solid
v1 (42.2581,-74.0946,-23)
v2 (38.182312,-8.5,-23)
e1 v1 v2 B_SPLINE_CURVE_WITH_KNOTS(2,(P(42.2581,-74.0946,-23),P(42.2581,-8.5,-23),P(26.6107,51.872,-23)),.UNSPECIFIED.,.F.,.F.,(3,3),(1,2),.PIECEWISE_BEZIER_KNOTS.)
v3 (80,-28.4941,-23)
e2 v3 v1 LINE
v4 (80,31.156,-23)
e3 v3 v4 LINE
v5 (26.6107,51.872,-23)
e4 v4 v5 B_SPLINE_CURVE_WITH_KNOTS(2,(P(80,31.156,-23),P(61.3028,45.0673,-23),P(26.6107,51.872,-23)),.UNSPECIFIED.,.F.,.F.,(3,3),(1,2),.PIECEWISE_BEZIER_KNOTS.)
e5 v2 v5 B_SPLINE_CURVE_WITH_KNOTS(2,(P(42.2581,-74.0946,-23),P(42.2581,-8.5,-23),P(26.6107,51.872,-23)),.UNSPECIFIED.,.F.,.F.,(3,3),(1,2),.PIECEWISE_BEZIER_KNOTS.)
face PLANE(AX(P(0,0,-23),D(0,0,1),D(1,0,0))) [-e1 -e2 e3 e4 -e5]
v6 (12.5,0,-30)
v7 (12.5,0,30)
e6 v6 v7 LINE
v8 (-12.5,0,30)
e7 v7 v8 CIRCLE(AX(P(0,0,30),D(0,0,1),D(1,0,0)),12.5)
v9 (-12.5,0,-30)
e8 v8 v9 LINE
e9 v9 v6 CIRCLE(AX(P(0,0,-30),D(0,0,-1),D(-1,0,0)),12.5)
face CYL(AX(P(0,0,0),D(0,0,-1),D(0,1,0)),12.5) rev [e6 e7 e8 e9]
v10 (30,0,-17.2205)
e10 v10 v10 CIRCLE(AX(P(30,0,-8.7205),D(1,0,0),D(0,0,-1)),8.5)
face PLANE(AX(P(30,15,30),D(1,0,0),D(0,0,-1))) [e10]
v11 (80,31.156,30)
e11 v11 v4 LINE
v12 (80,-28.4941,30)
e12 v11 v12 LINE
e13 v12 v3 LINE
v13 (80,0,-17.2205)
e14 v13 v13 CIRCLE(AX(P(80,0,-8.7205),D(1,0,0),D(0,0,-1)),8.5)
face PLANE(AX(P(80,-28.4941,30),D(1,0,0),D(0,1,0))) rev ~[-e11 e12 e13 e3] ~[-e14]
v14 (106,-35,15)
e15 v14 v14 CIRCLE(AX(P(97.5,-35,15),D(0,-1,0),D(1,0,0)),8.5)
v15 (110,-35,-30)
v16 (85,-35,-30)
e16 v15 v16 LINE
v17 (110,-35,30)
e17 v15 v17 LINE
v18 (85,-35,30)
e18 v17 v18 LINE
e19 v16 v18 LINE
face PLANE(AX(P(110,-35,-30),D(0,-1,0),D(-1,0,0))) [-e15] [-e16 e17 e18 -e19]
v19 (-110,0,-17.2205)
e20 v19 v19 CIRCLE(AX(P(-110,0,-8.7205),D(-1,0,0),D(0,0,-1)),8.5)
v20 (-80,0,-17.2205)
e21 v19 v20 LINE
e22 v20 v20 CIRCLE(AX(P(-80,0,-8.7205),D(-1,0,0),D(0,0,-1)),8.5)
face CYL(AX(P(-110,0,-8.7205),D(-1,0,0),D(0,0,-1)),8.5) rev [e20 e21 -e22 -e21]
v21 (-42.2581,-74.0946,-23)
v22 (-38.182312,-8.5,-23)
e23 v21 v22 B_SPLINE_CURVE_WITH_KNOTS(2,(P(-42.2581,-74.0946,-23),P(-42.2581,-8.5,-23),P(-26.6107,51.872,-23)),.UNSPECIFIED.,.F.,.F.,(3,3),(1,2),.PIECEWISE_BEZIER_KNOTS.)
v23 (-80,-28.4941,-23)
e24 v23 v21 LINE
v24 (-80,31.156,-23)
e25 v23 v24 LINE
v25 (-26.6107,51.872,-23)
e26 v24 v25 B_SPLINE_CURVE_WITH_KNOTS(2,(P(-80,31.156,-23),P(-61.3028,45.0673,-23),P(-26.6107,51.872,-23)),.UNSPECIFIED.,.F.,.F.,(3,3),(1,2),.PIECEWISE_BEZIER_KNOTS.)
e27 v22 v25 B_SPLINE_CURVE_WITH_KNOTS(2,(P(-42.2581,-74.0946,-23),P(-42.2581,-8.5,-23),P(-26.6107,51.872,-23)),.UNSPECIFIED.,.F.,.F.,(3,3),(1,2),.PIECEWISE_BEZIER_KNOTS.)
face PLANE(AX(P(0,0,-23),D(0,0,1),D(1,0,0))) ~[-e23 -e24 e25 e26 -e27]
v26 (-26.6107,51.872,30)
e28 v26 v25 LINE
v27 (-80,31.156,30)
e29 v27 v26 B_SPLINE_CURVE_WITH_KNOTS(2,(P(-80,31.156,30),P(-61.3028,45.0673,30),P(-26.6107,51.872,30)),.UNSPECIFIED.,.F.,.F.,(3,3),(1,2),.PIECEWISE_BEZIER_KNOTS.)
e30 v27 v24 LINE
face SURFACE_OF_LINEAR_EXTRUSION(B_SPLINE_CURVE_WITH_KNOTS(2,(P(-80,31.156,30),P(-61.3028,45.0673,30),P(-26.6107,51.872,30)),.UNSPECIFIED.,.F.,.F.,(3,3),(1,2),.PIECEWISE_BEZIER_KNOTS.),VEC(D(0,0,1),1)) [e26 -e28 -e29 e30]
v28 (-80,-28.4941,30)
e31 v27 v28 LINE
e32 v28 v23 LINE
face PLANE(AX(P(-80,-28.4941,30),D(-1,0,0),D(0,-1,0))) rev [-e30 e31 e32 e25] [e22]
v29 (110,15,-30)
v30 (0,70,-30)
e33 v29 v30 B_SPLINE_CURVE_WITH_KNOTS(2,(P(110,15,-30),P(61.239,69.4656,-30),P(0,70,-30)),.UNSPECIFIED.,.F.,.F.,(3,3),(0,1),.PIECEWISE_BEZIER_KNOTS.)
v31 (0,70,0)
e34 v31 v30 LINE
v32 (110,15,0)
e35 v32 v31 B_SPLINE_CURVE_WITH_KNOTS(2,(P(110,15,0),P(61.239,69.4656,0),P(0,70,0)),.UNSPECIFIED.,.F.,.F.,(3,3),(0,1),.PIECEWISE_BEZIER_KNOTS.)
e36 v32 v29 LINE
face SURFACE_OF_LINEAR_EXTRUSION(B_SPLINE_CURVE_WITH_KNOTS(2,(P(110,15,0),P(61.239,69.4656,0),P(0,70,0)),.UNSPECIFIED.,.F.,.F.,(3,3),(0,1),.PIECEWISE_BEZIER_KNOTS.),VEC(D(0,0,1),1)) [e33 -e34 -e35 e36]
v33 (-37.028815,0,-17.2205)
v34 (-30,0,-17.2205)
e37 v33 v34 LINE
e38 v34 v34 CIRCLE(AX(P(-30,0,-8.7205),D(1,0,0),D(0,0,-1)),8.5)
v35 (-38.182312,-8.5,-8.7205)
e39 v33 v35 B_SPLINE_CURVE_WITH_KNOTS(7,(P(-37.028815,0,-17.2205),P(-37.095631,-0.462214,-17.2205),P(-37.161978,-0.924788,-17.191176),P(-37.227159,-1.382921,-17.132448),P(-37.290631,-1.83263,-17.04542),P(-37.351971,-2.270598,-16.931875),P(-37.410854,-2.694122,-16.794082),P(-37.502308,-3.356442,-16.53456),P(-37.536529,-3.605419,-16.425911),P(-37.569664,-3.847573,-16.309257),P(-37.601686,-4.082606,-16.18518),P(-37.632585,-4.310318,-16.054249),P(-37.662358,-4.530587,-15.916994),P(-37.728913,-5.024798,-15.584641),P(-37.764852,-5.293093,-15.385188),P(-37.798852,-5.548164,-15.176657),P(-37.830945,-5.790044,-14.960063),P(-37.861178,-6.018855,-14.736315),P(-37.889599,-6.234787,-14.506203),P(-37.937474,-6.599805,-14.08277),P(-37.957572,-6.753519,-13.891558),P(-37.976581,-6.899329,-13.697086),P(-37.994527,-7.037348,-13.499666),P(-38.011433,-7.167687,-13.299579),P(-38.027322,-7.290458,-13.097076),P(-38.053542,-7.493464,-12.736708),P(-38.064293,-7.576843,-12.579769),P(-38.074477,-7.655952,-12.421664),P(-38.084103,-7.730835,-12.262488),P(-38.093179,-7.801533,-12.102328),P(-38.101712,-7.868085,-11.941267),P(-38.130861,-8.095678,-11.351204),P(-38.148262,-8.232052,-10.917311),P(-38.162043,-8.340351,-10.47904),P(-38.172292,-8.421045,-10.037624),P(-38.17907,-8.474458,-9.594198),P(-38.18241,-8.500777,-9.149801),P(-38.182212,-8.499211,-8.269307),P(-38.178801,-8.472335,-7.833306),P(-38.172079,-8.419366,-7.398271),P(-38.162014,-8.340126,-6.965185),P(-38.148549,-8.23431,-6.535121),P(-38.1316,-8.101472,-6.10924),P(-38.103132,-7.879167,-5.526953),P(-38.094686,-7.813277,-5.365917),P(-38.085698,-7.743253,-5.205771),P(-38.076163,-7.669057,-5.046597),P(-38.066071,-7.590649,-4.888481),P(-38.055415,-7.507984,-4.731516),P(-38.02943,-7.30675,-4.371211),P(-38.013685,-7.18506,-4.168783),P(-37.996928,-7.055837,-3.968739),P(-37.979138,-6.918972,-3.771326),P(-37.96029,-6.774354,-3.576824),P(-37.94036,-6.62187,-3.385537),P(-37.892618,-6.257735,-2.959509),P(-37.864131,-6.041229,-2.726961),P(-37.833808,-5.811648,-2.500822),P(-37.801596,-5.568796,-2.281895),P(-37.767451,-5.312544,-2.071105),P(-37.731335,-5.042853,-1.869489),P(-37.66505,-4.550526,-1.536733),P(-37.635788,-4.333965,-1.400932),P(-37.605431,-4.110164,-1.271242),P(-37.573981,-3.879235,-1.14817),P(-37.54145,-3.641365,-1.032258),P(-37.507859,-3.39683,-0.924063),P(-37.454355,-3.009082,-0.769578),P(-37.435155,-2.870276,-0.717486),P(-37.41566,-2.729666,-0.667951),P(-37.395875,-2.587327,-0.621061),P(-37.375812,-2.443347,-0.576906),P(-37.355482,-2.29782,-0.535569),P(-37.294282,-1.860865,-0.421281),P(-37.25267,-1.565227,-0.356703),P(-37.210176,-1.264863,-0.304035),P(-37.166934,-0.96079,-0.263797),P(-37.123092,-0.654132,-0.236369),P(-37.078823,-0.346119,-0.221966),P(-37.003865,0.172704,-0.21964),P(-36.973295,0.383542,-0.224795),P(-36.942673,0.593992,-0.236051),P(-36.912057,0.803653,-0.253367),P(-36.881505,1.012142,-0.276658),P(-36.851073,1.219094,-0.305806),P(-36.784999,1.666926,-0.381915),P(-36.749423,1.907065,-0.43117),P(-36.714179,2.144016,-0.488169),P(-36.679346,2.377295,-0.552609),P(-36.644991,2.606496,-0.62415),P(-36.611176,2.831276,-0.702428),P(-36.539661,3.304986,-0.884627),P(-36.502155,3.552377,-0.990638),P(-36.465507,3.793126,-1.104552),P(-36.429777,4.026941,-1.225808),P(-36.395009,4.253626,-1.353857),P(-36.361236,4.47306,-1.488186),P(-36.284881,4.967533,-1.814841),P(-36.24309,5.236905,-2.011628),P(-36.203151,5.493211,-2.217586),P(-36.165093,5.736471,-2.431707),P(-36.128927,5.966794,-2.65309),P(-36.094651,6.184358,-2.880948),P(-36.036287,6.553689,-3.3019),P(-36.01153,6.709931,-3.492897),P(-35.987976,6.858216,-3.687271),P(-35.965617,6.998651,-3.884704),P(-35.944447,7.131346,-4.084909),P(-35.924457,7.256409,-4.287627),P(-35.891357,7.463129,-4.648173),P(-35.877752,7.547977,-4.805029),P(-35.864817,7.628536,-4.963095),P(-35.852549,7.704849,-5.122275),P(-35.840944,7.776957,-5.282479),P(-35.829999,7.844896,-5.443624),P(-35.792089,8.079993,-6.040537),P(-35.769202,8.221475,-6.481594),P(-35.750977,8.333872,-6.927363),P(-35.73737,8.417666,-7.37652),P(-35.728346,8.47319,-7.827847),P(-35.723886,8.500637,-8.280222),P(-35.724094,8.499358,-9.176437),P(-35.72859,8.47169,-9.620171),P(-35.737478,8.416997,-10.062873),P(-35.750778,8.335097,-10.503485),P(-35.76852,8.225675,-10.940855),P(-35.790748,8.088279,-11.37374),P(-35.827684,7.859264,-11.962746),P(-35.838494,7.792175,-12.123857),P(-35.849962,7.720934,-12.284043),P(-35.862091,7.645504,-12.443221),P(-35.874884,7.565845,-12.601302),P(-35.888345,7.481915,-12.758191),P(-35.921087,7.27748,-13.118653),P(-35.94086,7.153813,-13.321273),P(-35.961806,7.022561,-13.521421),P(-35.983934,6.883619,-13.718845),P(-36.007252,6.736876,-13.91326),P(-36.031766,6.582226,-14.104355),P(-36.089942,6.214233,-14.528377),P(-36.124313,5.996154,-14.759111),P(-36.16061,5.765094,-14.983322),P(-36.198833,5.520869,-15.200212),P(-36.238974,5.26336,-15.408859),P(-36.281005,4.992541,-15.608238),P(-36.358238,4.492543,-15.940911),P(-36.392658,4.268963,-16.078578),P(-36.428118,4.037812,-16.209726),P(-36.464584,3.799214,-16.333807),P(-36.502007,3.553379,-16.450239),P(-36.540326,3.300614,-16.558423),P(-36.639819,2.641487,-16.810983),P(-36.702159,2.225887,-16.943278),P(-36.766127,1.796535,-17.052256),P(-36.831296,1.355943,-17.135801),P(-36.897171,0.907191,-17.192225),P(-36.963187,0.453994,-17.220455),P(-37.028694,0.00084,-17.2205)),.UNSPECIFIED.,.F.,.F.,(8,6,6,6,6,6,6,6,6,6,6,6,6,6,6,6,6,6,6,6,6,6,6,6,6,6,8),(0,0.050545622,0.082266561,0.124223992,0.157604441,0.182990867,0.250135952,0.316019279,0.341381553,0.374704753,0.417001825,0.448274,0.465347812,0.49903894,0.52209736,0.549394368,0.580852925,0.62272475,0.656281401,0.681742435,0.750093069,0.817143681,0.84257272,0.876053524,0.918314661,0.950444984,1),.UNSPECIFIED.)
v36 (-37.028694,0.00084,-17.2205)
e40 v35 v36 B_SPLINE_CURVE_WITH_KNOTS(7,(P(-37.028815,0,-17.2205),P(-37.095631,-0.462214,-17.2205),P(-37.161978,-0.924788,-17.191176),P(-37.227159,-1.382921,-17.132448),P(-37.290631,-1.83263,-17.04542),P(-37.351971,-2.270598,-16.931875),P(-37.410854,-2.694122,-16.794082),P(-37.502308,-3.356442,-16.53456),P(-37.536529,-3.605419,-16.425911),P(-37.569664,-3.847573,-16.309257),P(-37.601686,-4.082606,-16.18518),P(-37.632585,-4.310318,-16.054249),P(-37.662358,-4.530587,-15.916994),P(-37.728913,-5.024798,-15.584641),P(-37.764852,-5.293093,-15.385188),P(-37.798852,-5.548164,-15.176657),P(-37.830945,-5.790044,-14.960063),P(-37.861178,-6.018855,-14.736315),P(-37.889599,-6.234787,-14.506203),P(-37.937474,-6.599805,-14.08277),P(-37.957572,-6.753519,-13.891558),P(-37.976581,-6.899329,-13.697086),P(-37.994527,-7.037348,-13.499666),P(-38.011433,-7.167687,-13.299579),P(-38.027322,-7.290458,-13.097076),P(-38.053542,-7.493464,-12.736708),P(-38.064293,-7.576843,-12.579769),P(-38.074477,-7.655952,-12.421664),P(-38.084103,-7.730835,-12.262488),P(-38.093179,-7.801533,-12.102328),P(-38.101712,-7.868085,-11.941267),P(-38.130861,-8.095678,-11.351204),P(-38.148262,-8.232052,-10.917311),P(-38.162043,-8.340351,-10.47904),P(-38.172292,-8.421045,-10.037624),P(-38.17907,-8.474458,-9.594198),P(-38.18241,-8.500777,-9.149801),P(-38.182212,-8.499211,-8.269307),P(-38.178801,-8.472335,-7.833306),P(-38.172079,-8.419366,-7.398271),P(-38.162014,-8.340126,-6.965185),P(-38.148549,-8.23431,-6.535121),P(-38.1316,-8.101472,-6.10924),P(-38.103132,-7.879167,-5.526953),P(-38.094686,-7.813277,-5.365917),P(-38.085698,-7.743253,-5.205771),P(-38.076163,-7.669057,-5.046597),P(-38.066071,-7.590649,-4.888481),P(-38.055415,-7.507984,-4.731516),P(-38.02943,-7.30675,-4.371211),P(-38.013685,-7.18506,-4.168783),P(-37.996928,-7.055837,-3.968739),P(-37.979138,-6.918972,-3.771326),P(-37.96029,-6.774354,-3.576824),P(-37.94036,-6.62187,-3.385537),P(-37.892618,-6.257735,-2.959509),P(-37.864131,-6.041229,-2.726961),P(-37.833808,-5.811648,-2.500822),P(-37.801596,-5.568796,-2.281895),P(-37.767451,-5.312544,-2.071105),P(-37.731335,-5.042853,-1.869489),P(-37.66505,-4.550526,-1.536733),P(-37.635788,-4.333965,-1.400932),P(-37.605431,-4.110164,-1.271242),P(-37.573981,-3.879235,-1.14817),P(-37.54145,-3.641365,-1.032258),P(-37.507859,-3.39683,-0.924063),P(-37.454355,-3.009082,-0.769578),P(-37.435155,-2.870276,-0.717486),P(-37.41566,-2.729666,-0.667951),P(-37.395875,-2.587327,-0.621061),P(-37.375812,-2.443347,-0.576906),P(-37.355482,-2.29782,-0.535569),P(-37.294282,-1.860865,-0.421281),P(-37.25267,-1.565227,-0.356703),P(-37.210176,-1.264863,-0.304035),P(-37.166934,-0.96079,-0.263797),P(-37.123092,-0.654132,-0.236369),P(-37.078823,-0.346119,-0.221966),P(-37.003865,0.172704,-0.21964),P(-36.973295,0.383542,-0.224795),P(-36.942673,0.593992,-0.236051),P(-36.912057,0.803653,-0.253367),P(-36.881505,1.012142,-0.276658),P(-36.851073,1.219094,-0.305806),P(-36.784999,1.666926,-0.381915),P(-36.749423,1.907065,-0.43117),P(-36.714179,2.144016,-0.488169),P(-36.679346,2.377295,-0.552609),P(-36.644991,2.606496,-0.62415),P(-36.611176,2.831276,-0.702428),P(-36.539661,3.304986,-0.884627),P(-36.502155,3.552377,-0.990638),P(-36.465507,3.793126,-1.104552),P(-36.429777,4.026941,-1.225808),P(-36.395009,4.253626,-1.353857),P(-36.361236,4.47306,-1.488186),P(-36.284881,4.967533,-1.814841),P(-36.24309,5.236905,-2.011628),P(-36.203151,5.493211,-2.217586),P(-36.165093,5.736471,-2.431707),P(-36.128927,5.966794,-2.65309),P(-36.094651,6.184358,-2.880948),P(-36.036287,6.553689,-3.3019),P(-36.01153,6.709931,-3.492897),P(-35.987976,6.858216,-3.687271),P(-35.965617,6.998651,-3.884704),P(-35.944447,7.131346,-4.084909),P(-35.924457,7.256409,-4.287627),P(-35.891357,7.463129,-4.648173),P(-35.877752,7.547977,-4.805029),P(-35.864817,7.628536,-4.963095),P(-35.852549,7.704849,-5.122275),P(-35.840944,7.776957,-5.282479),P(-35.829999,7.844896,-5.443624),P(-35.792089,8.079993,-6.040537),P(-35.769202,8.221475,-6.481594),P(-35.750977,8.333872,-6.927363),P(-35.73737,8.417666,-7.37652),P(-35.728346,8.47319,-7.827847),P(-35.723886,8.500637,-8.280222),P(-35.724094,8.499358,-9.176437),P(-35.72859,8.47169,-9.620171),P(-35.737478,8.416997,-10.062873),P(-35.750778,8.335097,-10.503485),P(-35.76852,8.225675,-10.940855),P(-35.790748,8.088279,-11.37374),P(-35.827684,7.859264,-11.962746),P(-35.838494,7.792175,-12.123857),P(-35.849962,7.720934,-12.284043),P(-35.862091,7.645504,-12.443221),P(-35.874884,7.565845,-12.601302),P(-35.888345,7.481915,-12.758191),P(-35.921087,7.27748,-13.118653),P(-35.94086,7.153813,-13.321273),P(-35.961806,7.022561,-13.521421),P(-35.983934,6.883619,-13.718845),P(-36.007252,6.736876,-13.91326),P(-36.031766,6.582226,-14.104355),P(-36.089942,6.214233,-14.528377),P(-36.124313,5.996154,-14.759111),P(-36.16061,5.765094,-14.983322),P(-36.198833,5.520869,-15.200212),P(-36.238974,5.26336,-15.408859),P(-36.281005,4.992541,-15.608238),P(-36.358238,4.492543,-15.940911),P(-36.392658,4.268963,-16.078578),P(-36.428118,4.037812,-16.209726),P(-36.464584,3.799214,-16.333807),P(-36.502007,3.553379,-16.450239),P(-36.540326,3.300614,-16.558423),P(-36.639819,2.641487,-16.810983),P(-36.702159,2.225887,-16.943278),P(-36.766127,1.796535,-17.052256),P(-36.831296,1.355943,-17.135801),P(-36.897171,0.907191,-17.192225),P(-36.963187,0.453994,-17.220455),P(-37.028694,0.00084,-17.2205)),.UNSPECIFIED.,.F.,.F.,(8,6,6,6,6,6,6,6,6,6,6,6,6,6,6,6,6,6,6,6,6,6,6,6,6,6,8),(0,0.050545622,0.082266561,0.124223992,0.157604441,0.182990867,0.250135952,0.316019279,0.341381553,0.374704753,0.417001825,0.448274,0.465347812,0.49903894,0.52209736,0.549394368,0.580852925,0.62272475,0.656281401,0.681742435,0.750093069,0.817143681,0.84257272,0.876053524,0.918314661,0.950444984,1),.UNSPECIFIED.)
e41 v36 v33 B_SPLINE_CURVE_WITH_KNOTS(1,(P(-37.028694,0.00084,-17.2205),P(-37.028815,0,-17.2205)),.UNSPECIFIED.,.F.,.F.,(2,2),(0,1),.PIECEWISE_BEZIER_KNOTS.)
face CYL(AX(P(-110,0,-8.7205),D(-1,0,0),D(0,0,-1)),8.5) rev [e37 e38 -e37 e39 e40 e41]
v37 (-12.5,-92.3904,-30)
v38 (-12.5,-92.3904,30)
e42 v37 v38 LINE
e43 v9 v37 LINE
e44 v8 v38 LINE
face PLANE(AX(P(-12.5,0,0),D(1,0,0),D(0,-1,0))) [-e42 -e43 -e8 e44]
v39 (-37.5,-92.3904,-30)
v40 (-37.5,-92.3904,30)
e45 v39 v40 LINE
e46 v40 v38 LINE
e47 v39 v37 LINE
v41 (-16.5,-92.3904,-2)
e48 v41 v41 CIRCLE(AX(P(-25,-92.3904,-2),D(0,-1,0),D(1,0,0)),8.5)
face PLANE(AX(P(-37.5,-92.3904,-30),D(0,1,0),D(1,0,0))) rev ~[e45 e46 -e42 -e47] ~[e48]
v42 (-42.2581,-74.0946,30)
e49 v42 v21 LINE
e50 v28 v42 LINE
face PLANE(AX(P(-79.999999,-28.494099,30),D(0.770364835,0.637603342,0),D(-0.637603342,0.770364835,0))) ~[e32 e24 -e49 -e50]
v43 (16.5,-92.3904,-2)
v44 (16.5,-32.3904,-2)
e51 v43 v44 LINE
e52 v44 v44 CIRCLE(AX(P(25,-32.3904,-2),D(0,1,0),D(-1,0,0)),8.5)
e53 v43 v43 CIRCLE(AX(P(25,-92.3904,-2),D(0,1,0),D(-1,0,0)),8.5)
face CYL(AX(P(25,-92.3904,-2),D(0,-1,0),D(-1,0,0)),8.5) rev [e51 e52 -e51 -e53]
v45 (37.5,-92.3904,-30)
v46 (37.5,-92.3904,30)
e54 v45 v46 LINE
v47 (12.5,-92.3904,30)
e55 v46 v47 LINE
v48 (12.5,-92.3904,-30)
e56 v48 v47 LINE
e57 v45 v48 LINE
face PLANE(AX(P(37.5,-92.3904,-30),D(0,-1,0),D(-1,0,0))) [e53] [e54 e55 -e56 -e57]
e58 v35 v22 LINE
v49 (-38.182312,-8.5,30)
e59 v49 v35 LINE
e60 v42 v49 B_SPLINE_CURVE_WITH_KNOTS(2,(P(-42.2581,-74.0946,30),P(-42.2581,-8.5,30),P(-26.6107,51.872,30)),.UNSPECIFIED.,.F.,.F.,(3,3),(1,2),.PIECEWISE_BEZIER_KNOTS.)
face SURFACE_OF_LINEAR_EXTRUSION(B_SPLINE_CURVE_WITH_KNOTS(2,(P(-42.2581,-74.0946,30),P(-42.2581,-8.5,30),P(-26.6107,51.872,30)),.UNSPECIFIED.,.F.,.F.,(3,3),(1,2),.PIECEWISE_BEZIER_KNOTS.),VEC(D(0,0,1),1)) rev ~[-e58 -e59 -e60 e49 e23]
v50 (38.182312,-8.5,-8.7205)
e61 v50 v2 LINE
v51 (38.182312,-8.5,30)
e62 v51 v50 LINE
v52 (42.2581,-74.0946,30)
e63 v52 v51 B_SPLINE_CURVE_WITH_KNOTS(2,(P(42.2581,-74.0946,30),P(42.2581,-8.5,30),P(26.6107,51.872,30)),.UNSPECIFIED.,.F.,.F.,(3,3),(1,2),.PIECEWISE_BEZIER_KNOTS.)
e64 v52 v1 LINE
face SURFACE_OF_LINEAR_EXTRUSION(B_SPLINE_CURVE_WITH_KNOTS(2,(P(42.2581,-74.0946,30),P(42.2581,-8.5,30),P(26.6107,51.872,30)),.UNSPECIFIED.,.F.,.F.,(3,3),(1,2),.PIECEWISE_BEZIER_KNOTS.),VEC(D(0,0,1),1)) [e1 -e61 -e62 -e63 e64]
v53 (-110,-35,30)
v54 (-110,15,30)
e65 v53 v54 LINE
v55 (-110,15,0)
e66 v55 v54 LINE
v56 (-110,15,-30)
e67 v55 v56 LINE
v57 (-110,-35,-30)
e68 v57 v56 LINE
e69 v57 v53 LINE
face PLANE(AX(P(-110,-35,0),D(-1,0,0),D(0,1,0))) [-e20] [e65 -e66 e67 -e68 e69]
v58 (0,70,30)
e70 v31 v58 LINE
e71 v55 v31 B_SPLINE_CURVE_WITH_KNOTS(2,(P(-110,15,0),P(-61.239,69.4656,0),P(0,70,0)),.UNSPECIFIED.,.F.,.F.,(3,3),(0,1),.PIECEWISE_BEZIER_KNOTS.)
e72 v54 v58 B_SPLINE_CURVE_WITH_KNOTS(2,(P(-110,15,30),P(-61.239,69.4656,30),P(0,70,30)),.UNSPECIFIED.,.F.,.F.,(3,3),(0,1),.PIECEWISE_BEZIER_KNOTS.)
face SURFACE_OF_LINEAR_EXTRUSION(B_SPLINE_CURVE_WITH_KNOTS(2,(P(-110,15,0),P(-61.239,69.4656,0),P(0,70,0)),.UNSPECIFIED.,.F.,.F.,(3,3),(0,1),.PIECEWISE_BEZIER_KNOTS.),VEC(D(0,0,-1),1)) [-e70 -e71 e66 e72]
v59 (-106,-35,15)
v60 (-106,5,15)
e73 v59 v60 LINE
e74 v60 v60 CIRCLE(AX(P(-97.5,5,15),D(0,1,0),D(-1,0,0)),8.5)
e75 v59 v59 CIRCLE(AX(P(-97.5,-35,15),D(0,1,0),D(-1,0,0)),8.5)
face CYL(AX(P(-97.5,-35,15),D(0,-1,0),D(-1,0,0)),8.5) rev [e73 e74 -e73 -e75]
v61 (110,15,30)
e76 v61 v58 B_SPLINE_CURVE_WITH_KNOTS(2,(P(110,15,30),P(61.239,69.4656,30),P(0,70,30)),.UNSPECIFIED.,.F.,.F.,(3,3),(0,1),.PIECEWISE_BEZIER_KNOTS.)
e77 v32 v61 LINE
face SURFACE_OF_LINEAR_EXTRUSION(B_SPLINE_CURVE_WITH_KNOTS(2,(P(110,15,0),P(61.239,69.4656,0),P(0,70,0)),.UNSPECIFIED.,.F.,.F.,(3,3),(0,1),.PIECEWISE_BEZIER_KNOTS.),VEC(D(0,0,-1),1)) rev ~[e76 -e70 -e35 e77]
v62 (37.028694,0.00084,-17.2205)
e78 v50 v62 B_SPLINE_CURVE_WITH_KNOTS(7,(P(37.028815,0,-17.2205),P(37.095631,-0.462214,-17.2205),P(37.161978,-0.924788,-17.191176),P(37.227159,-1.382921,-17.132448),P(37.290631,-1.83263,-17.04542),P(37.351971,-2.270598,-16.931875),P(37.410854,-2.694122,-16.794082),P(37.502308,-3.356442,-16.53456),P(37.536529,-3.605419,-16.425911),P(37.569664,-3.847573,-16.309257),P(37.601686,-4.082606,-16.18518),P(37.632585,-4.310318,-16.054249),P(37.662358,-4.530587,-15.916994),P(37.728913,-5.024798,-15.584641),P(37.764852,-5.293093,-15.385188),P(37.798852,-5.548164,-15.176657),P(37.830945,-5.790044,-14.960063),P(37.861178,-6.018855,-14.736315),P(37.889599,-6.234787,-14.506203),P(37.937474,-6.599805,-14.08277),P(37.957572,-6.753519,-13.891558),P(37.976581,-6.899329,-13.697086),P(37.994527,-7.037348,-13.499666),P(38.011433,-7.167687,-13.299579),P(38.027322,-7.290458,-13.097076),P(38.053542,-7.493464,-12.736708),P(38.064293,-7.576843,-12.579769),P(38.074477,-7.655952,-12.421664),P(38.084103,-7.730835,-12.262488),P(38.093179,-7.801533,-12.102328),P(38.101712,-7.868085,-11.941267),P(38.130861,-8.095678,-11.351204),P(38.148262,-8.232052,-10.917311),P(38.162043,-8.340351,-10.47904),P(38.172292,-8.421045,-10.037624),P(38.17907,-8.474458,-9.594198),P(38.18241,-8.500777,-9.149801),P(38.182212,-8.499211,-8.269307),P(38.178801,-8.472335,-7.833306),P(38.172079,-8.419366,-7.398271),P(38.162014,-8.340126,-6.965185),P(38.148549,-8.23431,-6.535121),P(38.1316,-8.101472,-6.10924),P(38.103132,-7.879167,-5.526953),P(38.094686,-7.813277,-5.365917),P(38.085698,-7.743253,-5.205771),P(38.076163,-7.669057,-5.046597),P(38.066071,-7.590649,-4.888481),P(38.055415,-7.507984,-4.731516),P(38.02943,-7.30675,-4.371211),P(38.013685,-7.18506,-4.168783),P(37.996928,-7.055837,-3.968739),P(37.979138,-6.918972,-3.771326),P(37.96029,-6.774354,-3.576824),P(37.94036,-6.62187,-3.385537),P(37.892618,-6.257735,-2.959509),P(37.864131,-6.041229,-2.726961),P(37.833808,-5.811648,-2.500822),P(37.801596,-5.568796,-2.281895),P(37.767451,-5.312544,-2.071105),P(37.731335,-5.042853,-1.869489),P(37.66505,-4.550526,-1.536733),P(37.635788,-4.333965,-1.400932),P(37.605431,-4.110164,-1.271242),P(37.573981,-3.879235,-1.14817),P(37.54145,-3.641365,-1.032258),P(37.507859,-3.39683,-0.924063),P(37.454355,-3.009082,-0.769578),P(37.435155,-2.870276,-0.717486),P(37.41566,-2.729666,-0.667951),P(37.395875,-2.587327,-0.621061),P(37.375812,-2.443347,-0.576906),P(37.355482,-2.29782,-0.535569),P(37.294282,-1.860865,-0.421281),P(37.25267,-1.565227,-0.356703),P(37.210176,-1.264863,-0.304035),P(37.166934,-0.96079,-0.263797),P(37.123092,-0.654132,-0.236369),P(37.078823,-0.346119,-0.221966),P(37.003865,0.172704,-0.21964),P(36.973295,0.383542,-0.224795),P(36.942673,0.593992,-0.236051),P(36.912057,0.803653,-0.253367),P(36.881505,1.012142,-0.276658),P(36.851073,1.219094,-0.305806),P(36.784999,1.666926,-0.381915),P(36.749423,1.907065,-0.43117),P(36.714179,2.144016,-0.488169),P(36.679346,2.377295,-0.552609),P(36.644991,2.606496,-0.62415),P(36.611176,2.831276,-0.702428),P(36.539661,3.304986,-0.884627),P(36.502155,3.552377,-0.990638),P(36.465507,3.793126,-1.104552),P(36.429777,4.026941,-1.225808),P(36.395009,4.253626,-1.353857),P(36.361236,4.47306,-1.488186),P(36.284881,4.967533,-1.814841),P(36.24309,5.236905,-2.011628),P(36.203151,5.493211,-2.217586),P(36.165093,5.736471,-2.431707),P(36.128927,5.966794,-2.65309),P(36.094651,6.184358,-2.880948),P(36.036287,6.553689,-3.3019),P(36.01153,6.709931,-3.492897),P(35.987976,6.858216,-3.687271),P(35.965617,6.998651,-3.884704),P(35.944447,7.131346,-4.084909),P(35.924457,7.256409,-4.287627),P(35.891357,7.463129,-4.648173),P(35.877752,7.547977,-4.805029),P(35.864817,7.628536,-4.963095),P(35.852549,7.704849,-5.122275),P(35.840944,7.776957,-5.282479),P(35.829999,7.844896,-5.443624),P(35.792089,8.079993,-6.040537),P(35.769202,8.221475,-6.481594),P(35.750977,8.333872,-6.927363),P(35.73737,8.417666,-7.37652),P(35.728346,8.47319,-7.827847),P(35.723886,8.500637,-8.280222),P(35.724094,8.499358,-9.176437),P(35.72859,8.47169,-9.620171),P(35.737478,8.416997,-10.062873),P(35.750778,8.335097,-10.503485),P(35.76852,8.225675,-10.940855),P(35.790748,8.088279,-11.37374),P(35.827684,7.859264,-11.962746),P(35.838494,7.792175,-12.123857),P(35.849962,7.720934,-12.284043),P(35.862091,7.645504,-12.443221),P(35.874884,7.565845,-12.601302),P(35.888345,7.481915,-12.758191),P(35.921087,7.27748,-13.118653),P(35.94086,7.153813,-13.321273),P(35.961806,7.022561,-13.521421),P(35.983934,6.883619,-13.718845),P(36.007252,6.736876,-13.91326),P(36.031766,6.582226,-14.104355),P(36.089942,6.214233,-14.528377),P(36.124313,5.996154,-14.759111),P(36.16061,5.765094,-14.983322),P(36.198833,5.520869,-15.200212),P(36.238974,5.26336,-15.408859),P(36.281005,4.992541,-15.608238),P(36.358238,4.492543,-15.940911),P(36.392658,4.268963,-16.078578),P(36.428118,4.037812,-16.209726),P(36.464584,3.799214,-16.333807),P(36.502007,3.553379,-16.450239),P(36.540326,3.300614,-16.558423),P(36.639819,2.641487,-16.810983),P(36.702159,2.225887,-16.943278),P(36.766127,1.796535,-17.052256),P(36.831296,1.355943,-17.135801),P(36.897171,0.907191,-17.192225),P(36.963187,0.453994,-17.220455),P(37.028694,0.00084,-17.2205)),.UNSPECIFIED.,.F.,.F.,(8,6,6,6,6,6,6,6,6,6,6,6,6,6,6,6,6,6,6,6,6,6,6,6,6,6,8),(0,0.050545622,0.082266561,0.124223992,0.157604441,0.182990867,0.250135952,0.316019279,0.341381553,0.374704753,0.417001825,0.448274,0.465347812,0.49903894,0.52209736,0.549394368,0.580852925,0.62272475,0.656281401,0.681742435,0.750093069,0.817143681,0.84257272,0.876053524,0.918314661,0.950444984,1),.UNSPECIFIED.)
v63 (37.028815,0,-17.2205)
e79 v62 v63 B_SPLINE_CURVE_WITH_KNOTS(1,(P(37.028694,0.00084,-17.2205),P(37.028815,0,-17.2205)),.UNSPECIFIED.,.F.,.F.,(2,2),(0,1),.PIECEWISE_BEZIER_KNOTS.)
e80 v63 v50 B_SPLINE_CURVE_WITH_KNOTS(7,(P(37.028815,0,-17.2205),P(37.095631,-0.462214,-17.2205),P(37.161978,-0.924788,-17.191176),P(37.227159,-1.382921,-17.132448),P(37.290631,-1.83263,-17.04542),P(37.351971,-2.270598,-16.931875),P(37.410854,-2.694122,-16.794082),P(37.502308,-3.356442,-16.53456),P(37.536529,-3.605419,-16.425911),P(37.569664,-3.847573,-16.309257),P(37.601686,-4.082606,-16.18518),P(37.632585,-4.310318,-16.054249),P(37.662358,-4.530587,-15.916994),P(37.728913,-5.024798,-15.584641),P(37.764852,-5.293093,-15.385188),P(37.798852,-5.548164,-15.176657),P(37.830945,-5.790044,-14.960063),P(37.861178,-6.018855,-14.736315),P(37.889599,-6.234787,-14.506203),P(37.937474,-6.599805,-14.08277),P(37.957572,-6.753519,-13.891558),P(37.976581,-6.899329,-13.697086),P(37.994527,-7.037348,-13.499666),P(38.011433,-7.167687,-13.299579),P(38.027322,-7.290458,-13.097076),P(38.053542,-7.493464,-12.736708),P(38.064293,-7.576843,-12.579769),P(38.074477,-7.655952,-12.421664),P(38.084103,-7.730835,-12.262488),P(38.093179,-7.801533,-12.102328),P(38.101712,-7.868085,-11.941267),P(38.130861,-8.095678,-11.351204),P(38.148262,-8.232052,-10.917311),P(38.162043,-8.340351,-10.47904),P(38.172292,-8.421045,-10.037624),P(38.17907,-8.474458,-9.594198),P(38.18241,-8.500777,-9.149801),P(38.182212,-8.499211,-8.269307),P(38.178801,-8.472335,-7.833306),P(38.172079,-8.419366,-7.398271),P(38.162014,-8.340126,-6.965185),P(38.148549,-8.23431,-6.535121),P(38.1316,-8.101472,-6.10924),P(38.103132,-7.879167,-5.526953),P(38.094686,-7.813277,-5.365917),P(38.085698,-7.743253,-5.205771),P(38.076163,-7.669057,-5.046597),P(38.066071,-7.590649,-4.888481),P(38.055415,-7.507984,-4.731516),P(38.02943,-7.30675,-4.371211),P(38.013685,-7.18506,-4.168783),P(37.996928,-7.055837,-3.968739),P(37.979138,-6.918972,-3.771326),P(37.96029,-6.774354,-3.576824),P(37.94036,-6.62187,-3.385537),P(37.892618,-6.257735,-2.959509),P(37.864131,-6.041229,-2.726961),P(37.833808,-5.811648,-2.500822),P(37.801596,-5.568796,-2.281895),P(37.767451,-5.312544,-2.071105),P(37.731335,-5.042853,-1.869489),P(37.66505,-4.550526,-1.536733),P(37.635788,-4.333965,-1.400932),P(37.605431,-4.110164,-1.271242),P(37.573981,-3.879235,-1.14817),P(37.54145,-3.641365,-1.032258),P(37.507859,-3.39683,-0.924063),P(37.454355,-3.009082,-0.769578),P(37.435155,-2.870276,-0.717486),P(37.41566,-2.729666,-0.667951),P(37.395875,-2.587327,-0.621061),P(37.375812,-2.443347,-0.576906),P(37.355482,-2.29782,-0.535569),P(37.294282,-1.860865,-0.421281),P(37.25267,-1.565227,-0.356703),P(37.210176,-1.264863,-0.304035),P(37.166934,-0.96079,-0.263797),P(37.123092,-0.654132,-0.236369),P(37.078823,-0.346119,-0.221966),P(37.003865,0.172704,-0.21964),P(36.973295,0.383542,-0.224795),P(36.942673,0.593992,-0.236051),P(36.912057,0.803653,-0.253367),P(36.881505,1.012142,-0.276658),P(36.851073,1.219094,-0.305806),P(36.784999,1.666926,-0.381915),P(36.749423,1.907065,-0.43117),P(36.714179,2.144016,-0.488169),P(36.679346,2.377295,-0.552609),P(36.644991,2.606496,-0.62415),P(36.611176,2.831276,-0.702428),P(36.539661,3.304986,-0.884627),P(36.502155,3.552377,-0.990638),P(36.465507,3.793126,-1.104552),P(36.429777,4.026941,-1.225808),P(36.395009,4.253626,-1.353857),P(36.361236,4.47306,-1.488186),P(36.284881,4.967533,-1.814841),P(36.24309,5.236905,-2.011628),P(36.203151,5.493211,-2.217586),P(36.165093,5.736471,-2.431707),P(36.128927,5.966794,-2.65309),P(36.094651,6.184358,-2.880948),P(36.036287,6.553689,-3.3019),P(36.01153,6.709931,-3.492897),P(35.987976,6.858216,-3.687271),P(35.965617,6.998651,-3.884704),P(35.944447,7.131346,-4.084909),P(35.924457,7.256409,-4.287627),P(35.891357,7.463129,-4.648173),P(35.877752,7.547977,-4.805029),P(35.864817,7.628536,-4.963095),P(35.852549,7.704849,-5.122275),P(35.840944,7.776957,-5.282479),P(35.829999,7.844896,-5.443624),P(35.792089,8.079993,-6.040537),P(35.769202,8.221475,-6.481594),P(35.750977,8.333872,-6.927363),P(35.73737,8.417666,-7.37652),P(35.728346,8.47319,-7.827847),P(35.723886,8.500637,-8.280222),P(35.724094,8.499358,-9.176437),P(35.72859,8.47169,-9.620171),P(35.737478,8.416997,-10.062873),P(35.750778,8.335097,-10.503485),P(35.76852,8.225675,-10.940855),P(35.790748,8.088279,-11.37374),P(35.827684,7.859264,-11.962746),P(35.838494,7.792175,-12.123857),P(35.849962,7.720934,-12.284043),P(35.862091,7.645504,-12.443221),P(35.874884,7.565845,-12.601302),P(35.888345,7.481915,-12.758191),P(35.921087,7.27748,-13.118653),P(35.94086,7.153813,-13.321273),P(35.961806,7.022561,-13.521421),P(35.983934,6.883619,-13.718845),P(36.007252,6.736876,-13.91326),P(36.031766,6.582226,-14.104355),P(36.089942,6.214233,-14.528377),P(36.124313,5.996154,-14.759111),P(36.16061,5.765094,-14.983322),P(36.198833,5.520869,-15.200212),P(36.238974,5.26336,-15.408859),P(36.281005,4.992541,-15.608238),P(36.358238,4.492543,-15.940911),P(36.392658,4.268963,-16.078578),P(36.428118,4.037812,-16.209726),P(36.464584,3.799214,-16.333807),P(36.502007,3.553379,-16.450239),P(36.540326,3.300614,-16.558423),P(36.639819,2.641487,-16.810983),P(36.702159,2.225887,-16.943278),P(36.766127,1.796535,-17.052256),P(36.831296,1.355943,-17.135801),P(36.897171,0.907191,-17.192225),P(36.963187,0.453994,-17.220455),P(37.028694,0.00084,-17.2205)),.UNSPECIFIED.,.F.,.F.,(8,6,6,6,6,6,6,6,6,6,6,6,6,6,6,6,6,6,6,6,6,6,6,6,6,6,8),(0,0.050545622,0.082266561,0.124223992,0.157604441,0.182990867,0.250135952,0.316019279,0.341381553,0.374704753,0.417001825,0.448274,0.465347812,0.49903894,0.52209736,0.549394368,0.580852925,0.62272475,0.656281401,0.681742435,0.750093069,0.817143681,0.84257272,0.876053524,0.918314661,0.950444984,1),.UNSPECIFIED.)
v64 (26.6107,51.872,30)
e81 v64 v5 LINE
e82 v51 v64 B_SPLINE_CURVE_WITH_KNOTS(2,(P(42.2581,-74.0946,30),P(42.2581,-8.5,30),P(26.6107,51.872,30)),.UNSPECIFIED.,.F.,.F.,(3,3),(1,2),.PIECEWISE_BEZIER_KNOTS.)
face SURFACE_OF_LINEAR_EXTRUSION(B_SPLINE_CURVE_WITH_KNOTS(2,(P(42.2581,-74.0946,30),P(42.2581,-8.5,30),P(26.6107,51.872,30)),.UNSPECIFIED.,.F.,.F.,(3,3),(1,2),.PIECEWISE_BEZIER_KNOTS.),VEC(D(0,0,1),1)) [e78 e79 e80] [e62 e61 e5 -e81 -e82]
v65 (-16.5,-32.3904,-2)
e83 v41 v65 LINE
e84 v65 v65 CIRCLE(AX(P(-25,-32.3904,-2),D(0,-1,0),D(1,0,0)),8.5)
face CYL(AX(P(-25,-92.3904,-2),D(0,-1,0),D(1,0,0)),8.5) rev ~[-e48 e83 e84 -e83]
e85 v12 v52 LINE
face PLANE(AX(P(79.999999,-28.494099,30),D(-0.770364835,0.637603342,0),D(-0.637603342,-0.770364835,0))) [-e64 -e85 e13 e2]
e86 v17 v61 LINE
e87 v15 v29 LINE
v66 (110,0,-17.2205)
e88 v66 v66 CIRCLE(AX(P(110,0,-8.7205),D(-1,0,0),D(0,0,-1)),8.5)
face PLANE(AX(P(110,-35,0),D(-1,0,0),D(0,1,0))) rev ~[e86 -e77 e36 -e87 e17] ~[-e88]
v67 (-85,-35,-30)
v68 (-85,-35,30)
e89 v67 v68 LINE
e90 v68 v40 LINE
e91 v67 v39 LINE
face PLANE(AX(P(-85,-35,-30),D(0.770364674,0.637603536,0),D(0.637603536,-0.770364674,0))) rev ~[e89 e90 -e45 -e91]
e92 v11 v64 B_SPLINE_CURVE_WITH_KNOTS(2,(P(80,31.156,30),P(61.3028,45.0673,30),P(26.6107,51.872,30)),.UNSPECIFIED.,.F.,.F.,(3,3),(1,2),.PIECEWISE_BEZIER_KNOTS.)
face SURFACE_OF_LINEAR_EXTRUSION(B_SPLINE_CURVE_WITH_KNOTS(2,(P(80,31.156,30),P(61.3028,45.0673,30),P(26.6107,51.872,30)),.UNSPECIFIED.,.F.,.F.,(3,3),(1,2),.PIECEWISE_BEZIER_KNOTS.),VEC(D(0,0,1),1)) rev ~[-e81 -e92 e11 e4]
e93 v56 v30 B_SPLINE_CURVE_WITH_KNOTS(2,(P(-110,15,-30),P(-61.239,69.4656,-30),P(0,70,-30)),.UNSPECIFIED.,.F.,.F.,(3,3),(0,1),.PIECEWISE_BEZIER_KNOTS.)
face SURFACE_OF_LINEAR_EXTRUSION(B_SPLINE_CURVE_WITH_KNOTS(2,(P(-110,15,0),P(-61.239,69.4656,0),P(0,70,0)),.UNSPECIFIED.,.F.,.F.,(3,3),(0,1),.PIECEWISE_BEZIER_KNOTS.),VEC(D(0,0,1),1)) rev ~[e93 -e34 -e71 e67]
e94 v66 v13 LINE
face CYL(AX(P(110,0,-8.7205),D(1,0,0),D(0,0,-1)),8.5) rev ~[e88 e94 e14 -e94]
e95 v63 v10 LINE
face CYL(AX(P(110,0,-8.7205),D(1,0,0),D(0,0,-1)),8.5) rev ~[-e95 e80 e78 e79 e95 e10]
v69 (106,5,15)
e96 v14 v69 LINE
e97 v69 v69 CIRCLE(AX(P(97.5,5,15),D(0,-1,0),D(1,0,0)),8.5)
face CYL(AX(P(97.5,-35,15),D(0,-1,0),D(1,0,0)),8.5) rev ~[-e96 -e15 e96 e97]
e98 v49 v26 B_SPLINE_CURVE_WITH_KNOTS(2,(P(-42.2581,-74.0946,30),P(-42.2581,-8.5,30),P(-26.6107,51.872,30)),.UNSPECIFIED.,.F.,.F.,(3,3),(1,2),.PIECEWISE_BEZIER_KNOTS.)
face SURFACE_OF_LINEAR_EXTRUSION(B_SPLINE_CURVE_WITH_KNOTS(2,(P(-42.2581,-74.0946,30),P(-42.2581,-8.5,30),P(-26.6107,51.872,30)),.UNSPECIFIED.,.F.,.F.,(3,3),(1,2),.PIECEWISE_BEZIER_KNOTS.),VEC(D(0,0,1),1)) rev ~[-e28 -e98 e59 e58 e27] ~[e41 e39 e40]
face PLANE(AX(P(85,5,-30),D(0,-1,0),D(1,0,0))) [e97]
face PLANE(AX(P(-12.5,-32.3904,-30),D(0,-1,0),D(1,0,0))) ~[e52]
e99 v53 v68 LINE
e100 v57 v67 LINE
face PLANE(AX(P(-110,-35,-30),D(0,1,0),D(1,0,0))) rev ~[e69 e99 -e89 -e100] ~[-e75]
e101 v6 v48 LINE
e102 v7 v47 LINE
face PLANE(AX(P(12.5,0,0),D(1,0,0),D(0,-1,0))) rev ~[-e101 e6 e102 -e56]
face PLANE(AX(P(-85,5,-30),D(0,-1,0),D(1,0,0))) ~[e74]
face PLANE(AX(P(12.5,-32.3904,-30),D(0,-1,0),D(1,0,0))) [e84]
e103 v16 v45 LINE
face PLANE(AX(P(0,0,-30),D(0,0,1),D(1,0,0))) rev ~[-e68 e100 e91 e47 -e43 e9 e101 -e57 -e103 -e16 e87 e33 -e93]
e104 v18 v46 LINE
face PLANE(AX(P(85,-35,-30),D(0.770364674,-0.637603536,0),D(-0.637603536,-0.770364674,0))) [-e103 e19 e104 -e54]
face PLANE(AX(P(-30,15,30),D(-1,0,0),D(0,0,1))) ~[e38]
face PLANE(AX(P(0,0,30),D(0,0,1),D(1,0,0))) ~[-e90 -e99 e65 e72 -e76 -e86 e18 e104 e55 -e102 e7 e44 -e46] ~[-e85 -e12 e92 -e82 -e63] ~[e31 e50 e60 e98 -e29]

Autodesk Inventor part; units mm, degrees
ref_plane "YZ Plane" through (0, 0, 0) normal (1, 0, 0) x (0, 1, 0)
ref_plane "XZ Plane" through (0, 0, 0) normal (0, 1, 0) x (-1, 0, 0)
ref_plane "XY Plane" through (0, 0, 0) normal (0, 0, 1) x (1, 0, 0)
sketch "스케치1" plane through (0, 0, 0) normal (0, 0, 1) x (1, 0, 0)
  arc A0 (0, 12.5) -> (-12.5, 0) centre (0, 0) ccw
  line L0 (0, 220.6094) -> (0, -371.145)
  line L1 (-77.086, -220) -> (-110, -35)
  line L2 (-110, -35) -> (-110, 15)
  spline S0 degree 2 poles (-110, 15) (-61.239, 69.4656) (0, 70) knots 0 0 0 1 1 1
  line L3 (-29.7943, 69.74) -> (29.7943, 70.26) construction
  line L4 (-12.5, 0) -> (-12.5, -190)
  line L5 (-12.5, -190) -> (-29.9689, -220)
  line L6 (-29.9689, -220) -> (-77.086, -220)
  arc A1 (12.5, 0) -> (0, 12.5) centre (0, 0) ccw
  line L7 (77.086, -220) -> (110, -35)
  line L8 (110, -35) -> (110, 15)
  spline S1 degree 2 poles (110, 15) (61.239, 69.4656) (0, 70) knots 0 0 0 1 1 1
  line L9 (29.7943, 69.74) -> (-29.7943, 70.26) construction
  line L10 (12.5, 0) -> (12.5, -190)
  line L11 (12.5, -190) -> (29.9689, -220)
  line L12 (29.9689, -220) -> (77.086, -220)
  point P0 (1.2114, -68.8044)
  point P1 (23.5091, 68.2027)
  point P2 (-23.4485, 67.5354)
  point P3 (-1.2114, -68.8044)
  point P4 (-23.5091, 68.2027)
  point P5 (23.4485, 67.5354)
  point P6 (0, 70)
  dimension "d0" = 25
  dimension "d3" = 110
  dimension "d4" = 50
  dimension "d5" = 190
  dimension "d8" = 70
  dimension "d25" = 290
extrude "Wheel Body Initial Extrusion" add sketch "스케치1" along normal mid plane 60
sketch "스케치4" plane through (-12.5, -190, 30) normal (1, 0, 0) x (0, 0, -1)
  line L0 (60, 190) -> (0, 190) projected
  line L1 (60, 190) -> (60, 0) projected
  line L2 (60, 0) -> (0, 0) projected
  line L3 (0, 0) -> (0, 190) projected
  line L4 (0, 190) -> (0, -93.6851)
  line L5 (23, 50) -> (10, 50)
  line L6 (10, 50) -> (10, -48.4584)
  line L7 (10, -10.6044) -> (23, -10.6044)
  line L8 (23, -10.6044) -> (23, -50.5115)
  line L9 (23, -50.5115) -> (0, -50.5115)
  line L10 (53, -93.6851) -> (53, 276.7845)
  line L11 (53, 190) -> (0, 190)
  line L12 (53, 259.8429) -> (0, 259.8429)
  line L13 (0, 259.8429) -> (0, 0)
  point P0 (30, 190)
  dimension "d18" = 13
  dimension "d19" = 140
  dimension "d20" = 7
sketch "스케치7" plane through (0, 0, 30) normal (0, 0, 1) x (1, 0, 0)
  line L0 (-103, -34.3822) -> (-71.2215, -213)
  line L1 (-71.2215, -213) -> (-34.8207, -213)
  line L2 (-29.9689, -220) -> (-77.086, -220) projected
  line L3 (-34.8207, -213) -> (-19.5, -189.0198)
  line L4 (-19.5, -189.0198) -> (-19.5, 0)
  line L5 (-103, -34.3822) -> (-103, 27.8234)
  line L6 (-103, 27.8234) -> (-55.0885, 51.7889) construction
  line L7 (-55.0885, 51.7889) -> (35.24, 53.8015) construction
  spline S0 degree 2 poles (-103, 27.8234) (-55.0885, 51.7889) (35.24, 53.8015) knots 1 1 1 2 2 2
  line L8 (12.5, -190) -> (12.5, 0) projected
  arc A0 (12.5, 0) -> (-12.5, 0) centre (0, 0) ccw projected
  line L9 (-110, 15) -> (-110, -35) projected
  line L10 (-110, -35) -> (-77.086, -220) projected
  line L11 (-12.5, -190) -> (-12.5, 0) projected
  arc A1 (0, 19.5) -> (-19.5, 0) centre (0, 0) ccw
  line L12 (138.0234, -13.4315) -> (72.0365, -213)
  line L13 (72.0365, -213) -> (34.8207, -213)
  line L14 (34.8207, -213) -> (19.5, -189.0198)
  line L15 (19.5, -189.0198) -> (19.5, 0)
  line L16 (138.0234, -13.4315) -> (173.48, 27.8234)
  line L17 (173.48, 27.8234) -> (125.5685, 51.7889) construction
  line L18 (125.5685, 51.7889) -> (35.24, 53.8015) construction
  spline S1 degree 2 poles (173.48, 27.8234) (125.5685, 51.7889) (35.24, 53.8015) knots 1 1 1 2 2 2
  arc A2 (19.5, 0) -> (0, 19.5) centre (0, 0) ccw
  line L19 (72.0365, 0) -> (72.0365, -130)
  line L20 (106.0933, -110) -> (19.5, -110)
  line L21 (92.8673, -150) -> (19.5, -150)
  point P0 (-103, -3.2794)
  dimension "d40" = 7
  dimension "d42" = 7
  dimension "d43" = 7
  dimension "d44" = 7
  dimension "d53" = 130
  dimension "d54" = 20
  dimension "d57" = 40
extrude "Extrusion Cut for Thickness" [suppressed]
sketch "스케치8" plane through (110, -35, 30) normal (1, 0, 0) x (0, 0, -1)
  line L0 (60, 50) -> (60, 0) projected
  line L1 (60, 50) -> (30, 50)
  line L2 (60, 20) -> (60, 50)
  circle A0 centre (30, 35) radius 8.5
  dimension "d84" = 17
extrude "돌출3" [suppressed]
extrude "돌출4" [suppressed]
mirror "미러1" [suppressed]
extrude "돌출5" add sketch "스케치7" against normal blind 23 contours L12 L21 L15 L20
mirror "미러2" about plane through (0, 0, 0) normal (1, 0, 0) of "돌출5"
sketch "스케치21" plane through (0, 0, -30) normal (0, 0, -1) x (-1, 0, 0)
  line L0 (-77.086, -220) -> (-110, -35) projected
  line L1 (-110, -35) -> (-85, -35)
  line L2 (-85, -35) -> (-37.5, -92.3904)
  line L3 (-37.5, -92.3904) -> (-12.5, -92.3904)
  line L4 (-12.5, 0) -> (-12.5, -190) projected
  line L5 (0, 75.7954) -> (0, -227.3908)
  line L6 (110, -35) -> (85, -35)
  line L7 (85, -35) -> (37.5, -92.3904)
  line L8 (37.5, -92.3904) -> (12.5, -92.3904)
  line L9 (-110, -35) -> (-77.086, -220)
  line L10 (-29.9689, -220) -> (-77.086, -220) projected
  line L11 (-12.5, -190) -> (-29.9689, -220) projected
  line L12 (-29.9689, -220) -> (-12.5, -190)
  line L13 (-12.5, -190) -> (-12.5, -92.3904)
  line L14 (12.5, -92.3904) -> (12.5, -190)
  line L15 (29.9689, -220) -> (12.5, -190) projected
  line L16 (12.5, -190) -> (29.9689, -220)
  line L17 (110, -35) -> (77.086, -220) projected
  line L18 (29.9689, -220) -> (77.086, -220)
  line L19 (77.086, -220) -> (110, -35)
  point P0 (0, 0)
  dimension "d80" = 25
  dimension "d81" = 25
extrude "돌출9" cut sketch "스케치21" against normal blind 60
sketch "스케치22" plane through (110, 15, 30) normal (1, 0, 0) x (0, 0, -1)
  line L0 (60, -15) -> (0, -15) projected
  circle A0 centre (38.7205, -15) radius 8.5
  point P0 (30, -15)
  dimension "d86" = 17
extrude "돌출10" cut sketch "스케치22" against normal blind 80
sketch "스케치23" plane through (85, -35, -30) normal (0, -1, 0) x (1, 0, 0)
  circle A0 centre (12.5, 45) radius 8.5
  line L0 (25, 0) -> (25, 60) projected
  line L1 (0, 60) -> (25, 60) projected
  point P0 (-85, 30)
  dimension "d89" = 12.5
  dimension "d90" = 17
  dimension "d91" = 15
extrude "돌출11" cut sketch "스케치23" against normal blind 40
sketch "스케치24" plane through (12.5, -92.3904, -30) normal (0, -1, 0) x (1, 0, 0)
  circle A0 centre (-37.5, 28) radius 8.5
  circle A1 centre (85, 45) radius 8.5 projected
  line L0 (-50, 0) -> (-50, 60) projected
  point P0 (-12.5, 30)
  dimension "d94" = 17
  dimension "d95" = 17
  dimension "d98" = 12.5
extrude "돌출12" cut sketch "스케치24" against normal blind 60 contours A0
ref_plane "작업 평면6" through (0, 0, -30) normal (-1, 0, 0) x (0, 0, 1)
mirror "미러4" about plane through (0, 0, -30) normal (-1, 0, 0) of "돌출10", "돌출11", "돌출12"
sketch "스케치25" plane through (-106.0933, -110, 7) normal (-0.9494, -0.3139, 0) x (0, 0, 1)
  point P0 (-7, 71.1329)
sketch "스케치26" plane through (0, 0, -30) normal (-1, 0, 0) x (0, 0, 1)
  line L0 (94.4532, -100.7618) -> (-29.2969, -100.7618)
  line L1 (-29.2969, -100.7618) -> (-29.2969, -183.2619)
  line L2 (-29.2969, -183.2619) -> (94.4532, -183.2619)
  line L3 (94.4532, -183.2619) -> (94.4532, -100.7618)
  point P0 (30, 0)
extrude "돌출13" cut sketch "스케치26" along normal mid plane 574.75
sketch "스케치27" plane through (0, 0, 30) normal (0, 0, 1) x (1, 0, 0)
  line L0 (80, -28.4941) -> (80, 31.156)
  line L1 (89, -35) -> (89, 5) projected
  line L2 (37.5, -92.3904) -> (85, -35) projected
  line L3 (85, -35) -> (85, 52.6509)
  line L4 (33.5, -32.3904) -> (33.5, -92.3904) projected
  line L5 (85, -22.453) -> (42.2581, -74.0946)
  line L6 (110, -8.5) -> (30, -8.5) projected
  line L7 (80, 31.156) -> (61.3028, 45.0673) construction
  line L8 (61.3028, 45.0673) -> (26.6107, 51.872) construction
  spline S0 degree 2 poles (80, 31.156) (61.3028, 45.0673) (26.6107, 51.872) knots 1 1 1 2 2 2
  line L9 (42.2581, -74.0946) -> (42.2581, -8.5) construction
  line L10 (42.2581, -8.5) -> (26.6107, 51.872) construction
  spline S1 degree 2 poles (42.2581, -74.0946) (42.2581, -8.5) (26.6107, 51.872) knots 1 1 1 2 2 2
  point P0 (0, 0)
  dimension "d102" = 8
  dimension "d103" = 5
extrude "돌출14" cut sketch "스케치27" against normal blind 53 contours L5 S1 L6 L0 | L6 S1 S0 L0
mirror "미러5" about plane through (0, 0, -30) normal (-1, 0, 0) of "돌출14"
properties part number "5th Wheel Body"
